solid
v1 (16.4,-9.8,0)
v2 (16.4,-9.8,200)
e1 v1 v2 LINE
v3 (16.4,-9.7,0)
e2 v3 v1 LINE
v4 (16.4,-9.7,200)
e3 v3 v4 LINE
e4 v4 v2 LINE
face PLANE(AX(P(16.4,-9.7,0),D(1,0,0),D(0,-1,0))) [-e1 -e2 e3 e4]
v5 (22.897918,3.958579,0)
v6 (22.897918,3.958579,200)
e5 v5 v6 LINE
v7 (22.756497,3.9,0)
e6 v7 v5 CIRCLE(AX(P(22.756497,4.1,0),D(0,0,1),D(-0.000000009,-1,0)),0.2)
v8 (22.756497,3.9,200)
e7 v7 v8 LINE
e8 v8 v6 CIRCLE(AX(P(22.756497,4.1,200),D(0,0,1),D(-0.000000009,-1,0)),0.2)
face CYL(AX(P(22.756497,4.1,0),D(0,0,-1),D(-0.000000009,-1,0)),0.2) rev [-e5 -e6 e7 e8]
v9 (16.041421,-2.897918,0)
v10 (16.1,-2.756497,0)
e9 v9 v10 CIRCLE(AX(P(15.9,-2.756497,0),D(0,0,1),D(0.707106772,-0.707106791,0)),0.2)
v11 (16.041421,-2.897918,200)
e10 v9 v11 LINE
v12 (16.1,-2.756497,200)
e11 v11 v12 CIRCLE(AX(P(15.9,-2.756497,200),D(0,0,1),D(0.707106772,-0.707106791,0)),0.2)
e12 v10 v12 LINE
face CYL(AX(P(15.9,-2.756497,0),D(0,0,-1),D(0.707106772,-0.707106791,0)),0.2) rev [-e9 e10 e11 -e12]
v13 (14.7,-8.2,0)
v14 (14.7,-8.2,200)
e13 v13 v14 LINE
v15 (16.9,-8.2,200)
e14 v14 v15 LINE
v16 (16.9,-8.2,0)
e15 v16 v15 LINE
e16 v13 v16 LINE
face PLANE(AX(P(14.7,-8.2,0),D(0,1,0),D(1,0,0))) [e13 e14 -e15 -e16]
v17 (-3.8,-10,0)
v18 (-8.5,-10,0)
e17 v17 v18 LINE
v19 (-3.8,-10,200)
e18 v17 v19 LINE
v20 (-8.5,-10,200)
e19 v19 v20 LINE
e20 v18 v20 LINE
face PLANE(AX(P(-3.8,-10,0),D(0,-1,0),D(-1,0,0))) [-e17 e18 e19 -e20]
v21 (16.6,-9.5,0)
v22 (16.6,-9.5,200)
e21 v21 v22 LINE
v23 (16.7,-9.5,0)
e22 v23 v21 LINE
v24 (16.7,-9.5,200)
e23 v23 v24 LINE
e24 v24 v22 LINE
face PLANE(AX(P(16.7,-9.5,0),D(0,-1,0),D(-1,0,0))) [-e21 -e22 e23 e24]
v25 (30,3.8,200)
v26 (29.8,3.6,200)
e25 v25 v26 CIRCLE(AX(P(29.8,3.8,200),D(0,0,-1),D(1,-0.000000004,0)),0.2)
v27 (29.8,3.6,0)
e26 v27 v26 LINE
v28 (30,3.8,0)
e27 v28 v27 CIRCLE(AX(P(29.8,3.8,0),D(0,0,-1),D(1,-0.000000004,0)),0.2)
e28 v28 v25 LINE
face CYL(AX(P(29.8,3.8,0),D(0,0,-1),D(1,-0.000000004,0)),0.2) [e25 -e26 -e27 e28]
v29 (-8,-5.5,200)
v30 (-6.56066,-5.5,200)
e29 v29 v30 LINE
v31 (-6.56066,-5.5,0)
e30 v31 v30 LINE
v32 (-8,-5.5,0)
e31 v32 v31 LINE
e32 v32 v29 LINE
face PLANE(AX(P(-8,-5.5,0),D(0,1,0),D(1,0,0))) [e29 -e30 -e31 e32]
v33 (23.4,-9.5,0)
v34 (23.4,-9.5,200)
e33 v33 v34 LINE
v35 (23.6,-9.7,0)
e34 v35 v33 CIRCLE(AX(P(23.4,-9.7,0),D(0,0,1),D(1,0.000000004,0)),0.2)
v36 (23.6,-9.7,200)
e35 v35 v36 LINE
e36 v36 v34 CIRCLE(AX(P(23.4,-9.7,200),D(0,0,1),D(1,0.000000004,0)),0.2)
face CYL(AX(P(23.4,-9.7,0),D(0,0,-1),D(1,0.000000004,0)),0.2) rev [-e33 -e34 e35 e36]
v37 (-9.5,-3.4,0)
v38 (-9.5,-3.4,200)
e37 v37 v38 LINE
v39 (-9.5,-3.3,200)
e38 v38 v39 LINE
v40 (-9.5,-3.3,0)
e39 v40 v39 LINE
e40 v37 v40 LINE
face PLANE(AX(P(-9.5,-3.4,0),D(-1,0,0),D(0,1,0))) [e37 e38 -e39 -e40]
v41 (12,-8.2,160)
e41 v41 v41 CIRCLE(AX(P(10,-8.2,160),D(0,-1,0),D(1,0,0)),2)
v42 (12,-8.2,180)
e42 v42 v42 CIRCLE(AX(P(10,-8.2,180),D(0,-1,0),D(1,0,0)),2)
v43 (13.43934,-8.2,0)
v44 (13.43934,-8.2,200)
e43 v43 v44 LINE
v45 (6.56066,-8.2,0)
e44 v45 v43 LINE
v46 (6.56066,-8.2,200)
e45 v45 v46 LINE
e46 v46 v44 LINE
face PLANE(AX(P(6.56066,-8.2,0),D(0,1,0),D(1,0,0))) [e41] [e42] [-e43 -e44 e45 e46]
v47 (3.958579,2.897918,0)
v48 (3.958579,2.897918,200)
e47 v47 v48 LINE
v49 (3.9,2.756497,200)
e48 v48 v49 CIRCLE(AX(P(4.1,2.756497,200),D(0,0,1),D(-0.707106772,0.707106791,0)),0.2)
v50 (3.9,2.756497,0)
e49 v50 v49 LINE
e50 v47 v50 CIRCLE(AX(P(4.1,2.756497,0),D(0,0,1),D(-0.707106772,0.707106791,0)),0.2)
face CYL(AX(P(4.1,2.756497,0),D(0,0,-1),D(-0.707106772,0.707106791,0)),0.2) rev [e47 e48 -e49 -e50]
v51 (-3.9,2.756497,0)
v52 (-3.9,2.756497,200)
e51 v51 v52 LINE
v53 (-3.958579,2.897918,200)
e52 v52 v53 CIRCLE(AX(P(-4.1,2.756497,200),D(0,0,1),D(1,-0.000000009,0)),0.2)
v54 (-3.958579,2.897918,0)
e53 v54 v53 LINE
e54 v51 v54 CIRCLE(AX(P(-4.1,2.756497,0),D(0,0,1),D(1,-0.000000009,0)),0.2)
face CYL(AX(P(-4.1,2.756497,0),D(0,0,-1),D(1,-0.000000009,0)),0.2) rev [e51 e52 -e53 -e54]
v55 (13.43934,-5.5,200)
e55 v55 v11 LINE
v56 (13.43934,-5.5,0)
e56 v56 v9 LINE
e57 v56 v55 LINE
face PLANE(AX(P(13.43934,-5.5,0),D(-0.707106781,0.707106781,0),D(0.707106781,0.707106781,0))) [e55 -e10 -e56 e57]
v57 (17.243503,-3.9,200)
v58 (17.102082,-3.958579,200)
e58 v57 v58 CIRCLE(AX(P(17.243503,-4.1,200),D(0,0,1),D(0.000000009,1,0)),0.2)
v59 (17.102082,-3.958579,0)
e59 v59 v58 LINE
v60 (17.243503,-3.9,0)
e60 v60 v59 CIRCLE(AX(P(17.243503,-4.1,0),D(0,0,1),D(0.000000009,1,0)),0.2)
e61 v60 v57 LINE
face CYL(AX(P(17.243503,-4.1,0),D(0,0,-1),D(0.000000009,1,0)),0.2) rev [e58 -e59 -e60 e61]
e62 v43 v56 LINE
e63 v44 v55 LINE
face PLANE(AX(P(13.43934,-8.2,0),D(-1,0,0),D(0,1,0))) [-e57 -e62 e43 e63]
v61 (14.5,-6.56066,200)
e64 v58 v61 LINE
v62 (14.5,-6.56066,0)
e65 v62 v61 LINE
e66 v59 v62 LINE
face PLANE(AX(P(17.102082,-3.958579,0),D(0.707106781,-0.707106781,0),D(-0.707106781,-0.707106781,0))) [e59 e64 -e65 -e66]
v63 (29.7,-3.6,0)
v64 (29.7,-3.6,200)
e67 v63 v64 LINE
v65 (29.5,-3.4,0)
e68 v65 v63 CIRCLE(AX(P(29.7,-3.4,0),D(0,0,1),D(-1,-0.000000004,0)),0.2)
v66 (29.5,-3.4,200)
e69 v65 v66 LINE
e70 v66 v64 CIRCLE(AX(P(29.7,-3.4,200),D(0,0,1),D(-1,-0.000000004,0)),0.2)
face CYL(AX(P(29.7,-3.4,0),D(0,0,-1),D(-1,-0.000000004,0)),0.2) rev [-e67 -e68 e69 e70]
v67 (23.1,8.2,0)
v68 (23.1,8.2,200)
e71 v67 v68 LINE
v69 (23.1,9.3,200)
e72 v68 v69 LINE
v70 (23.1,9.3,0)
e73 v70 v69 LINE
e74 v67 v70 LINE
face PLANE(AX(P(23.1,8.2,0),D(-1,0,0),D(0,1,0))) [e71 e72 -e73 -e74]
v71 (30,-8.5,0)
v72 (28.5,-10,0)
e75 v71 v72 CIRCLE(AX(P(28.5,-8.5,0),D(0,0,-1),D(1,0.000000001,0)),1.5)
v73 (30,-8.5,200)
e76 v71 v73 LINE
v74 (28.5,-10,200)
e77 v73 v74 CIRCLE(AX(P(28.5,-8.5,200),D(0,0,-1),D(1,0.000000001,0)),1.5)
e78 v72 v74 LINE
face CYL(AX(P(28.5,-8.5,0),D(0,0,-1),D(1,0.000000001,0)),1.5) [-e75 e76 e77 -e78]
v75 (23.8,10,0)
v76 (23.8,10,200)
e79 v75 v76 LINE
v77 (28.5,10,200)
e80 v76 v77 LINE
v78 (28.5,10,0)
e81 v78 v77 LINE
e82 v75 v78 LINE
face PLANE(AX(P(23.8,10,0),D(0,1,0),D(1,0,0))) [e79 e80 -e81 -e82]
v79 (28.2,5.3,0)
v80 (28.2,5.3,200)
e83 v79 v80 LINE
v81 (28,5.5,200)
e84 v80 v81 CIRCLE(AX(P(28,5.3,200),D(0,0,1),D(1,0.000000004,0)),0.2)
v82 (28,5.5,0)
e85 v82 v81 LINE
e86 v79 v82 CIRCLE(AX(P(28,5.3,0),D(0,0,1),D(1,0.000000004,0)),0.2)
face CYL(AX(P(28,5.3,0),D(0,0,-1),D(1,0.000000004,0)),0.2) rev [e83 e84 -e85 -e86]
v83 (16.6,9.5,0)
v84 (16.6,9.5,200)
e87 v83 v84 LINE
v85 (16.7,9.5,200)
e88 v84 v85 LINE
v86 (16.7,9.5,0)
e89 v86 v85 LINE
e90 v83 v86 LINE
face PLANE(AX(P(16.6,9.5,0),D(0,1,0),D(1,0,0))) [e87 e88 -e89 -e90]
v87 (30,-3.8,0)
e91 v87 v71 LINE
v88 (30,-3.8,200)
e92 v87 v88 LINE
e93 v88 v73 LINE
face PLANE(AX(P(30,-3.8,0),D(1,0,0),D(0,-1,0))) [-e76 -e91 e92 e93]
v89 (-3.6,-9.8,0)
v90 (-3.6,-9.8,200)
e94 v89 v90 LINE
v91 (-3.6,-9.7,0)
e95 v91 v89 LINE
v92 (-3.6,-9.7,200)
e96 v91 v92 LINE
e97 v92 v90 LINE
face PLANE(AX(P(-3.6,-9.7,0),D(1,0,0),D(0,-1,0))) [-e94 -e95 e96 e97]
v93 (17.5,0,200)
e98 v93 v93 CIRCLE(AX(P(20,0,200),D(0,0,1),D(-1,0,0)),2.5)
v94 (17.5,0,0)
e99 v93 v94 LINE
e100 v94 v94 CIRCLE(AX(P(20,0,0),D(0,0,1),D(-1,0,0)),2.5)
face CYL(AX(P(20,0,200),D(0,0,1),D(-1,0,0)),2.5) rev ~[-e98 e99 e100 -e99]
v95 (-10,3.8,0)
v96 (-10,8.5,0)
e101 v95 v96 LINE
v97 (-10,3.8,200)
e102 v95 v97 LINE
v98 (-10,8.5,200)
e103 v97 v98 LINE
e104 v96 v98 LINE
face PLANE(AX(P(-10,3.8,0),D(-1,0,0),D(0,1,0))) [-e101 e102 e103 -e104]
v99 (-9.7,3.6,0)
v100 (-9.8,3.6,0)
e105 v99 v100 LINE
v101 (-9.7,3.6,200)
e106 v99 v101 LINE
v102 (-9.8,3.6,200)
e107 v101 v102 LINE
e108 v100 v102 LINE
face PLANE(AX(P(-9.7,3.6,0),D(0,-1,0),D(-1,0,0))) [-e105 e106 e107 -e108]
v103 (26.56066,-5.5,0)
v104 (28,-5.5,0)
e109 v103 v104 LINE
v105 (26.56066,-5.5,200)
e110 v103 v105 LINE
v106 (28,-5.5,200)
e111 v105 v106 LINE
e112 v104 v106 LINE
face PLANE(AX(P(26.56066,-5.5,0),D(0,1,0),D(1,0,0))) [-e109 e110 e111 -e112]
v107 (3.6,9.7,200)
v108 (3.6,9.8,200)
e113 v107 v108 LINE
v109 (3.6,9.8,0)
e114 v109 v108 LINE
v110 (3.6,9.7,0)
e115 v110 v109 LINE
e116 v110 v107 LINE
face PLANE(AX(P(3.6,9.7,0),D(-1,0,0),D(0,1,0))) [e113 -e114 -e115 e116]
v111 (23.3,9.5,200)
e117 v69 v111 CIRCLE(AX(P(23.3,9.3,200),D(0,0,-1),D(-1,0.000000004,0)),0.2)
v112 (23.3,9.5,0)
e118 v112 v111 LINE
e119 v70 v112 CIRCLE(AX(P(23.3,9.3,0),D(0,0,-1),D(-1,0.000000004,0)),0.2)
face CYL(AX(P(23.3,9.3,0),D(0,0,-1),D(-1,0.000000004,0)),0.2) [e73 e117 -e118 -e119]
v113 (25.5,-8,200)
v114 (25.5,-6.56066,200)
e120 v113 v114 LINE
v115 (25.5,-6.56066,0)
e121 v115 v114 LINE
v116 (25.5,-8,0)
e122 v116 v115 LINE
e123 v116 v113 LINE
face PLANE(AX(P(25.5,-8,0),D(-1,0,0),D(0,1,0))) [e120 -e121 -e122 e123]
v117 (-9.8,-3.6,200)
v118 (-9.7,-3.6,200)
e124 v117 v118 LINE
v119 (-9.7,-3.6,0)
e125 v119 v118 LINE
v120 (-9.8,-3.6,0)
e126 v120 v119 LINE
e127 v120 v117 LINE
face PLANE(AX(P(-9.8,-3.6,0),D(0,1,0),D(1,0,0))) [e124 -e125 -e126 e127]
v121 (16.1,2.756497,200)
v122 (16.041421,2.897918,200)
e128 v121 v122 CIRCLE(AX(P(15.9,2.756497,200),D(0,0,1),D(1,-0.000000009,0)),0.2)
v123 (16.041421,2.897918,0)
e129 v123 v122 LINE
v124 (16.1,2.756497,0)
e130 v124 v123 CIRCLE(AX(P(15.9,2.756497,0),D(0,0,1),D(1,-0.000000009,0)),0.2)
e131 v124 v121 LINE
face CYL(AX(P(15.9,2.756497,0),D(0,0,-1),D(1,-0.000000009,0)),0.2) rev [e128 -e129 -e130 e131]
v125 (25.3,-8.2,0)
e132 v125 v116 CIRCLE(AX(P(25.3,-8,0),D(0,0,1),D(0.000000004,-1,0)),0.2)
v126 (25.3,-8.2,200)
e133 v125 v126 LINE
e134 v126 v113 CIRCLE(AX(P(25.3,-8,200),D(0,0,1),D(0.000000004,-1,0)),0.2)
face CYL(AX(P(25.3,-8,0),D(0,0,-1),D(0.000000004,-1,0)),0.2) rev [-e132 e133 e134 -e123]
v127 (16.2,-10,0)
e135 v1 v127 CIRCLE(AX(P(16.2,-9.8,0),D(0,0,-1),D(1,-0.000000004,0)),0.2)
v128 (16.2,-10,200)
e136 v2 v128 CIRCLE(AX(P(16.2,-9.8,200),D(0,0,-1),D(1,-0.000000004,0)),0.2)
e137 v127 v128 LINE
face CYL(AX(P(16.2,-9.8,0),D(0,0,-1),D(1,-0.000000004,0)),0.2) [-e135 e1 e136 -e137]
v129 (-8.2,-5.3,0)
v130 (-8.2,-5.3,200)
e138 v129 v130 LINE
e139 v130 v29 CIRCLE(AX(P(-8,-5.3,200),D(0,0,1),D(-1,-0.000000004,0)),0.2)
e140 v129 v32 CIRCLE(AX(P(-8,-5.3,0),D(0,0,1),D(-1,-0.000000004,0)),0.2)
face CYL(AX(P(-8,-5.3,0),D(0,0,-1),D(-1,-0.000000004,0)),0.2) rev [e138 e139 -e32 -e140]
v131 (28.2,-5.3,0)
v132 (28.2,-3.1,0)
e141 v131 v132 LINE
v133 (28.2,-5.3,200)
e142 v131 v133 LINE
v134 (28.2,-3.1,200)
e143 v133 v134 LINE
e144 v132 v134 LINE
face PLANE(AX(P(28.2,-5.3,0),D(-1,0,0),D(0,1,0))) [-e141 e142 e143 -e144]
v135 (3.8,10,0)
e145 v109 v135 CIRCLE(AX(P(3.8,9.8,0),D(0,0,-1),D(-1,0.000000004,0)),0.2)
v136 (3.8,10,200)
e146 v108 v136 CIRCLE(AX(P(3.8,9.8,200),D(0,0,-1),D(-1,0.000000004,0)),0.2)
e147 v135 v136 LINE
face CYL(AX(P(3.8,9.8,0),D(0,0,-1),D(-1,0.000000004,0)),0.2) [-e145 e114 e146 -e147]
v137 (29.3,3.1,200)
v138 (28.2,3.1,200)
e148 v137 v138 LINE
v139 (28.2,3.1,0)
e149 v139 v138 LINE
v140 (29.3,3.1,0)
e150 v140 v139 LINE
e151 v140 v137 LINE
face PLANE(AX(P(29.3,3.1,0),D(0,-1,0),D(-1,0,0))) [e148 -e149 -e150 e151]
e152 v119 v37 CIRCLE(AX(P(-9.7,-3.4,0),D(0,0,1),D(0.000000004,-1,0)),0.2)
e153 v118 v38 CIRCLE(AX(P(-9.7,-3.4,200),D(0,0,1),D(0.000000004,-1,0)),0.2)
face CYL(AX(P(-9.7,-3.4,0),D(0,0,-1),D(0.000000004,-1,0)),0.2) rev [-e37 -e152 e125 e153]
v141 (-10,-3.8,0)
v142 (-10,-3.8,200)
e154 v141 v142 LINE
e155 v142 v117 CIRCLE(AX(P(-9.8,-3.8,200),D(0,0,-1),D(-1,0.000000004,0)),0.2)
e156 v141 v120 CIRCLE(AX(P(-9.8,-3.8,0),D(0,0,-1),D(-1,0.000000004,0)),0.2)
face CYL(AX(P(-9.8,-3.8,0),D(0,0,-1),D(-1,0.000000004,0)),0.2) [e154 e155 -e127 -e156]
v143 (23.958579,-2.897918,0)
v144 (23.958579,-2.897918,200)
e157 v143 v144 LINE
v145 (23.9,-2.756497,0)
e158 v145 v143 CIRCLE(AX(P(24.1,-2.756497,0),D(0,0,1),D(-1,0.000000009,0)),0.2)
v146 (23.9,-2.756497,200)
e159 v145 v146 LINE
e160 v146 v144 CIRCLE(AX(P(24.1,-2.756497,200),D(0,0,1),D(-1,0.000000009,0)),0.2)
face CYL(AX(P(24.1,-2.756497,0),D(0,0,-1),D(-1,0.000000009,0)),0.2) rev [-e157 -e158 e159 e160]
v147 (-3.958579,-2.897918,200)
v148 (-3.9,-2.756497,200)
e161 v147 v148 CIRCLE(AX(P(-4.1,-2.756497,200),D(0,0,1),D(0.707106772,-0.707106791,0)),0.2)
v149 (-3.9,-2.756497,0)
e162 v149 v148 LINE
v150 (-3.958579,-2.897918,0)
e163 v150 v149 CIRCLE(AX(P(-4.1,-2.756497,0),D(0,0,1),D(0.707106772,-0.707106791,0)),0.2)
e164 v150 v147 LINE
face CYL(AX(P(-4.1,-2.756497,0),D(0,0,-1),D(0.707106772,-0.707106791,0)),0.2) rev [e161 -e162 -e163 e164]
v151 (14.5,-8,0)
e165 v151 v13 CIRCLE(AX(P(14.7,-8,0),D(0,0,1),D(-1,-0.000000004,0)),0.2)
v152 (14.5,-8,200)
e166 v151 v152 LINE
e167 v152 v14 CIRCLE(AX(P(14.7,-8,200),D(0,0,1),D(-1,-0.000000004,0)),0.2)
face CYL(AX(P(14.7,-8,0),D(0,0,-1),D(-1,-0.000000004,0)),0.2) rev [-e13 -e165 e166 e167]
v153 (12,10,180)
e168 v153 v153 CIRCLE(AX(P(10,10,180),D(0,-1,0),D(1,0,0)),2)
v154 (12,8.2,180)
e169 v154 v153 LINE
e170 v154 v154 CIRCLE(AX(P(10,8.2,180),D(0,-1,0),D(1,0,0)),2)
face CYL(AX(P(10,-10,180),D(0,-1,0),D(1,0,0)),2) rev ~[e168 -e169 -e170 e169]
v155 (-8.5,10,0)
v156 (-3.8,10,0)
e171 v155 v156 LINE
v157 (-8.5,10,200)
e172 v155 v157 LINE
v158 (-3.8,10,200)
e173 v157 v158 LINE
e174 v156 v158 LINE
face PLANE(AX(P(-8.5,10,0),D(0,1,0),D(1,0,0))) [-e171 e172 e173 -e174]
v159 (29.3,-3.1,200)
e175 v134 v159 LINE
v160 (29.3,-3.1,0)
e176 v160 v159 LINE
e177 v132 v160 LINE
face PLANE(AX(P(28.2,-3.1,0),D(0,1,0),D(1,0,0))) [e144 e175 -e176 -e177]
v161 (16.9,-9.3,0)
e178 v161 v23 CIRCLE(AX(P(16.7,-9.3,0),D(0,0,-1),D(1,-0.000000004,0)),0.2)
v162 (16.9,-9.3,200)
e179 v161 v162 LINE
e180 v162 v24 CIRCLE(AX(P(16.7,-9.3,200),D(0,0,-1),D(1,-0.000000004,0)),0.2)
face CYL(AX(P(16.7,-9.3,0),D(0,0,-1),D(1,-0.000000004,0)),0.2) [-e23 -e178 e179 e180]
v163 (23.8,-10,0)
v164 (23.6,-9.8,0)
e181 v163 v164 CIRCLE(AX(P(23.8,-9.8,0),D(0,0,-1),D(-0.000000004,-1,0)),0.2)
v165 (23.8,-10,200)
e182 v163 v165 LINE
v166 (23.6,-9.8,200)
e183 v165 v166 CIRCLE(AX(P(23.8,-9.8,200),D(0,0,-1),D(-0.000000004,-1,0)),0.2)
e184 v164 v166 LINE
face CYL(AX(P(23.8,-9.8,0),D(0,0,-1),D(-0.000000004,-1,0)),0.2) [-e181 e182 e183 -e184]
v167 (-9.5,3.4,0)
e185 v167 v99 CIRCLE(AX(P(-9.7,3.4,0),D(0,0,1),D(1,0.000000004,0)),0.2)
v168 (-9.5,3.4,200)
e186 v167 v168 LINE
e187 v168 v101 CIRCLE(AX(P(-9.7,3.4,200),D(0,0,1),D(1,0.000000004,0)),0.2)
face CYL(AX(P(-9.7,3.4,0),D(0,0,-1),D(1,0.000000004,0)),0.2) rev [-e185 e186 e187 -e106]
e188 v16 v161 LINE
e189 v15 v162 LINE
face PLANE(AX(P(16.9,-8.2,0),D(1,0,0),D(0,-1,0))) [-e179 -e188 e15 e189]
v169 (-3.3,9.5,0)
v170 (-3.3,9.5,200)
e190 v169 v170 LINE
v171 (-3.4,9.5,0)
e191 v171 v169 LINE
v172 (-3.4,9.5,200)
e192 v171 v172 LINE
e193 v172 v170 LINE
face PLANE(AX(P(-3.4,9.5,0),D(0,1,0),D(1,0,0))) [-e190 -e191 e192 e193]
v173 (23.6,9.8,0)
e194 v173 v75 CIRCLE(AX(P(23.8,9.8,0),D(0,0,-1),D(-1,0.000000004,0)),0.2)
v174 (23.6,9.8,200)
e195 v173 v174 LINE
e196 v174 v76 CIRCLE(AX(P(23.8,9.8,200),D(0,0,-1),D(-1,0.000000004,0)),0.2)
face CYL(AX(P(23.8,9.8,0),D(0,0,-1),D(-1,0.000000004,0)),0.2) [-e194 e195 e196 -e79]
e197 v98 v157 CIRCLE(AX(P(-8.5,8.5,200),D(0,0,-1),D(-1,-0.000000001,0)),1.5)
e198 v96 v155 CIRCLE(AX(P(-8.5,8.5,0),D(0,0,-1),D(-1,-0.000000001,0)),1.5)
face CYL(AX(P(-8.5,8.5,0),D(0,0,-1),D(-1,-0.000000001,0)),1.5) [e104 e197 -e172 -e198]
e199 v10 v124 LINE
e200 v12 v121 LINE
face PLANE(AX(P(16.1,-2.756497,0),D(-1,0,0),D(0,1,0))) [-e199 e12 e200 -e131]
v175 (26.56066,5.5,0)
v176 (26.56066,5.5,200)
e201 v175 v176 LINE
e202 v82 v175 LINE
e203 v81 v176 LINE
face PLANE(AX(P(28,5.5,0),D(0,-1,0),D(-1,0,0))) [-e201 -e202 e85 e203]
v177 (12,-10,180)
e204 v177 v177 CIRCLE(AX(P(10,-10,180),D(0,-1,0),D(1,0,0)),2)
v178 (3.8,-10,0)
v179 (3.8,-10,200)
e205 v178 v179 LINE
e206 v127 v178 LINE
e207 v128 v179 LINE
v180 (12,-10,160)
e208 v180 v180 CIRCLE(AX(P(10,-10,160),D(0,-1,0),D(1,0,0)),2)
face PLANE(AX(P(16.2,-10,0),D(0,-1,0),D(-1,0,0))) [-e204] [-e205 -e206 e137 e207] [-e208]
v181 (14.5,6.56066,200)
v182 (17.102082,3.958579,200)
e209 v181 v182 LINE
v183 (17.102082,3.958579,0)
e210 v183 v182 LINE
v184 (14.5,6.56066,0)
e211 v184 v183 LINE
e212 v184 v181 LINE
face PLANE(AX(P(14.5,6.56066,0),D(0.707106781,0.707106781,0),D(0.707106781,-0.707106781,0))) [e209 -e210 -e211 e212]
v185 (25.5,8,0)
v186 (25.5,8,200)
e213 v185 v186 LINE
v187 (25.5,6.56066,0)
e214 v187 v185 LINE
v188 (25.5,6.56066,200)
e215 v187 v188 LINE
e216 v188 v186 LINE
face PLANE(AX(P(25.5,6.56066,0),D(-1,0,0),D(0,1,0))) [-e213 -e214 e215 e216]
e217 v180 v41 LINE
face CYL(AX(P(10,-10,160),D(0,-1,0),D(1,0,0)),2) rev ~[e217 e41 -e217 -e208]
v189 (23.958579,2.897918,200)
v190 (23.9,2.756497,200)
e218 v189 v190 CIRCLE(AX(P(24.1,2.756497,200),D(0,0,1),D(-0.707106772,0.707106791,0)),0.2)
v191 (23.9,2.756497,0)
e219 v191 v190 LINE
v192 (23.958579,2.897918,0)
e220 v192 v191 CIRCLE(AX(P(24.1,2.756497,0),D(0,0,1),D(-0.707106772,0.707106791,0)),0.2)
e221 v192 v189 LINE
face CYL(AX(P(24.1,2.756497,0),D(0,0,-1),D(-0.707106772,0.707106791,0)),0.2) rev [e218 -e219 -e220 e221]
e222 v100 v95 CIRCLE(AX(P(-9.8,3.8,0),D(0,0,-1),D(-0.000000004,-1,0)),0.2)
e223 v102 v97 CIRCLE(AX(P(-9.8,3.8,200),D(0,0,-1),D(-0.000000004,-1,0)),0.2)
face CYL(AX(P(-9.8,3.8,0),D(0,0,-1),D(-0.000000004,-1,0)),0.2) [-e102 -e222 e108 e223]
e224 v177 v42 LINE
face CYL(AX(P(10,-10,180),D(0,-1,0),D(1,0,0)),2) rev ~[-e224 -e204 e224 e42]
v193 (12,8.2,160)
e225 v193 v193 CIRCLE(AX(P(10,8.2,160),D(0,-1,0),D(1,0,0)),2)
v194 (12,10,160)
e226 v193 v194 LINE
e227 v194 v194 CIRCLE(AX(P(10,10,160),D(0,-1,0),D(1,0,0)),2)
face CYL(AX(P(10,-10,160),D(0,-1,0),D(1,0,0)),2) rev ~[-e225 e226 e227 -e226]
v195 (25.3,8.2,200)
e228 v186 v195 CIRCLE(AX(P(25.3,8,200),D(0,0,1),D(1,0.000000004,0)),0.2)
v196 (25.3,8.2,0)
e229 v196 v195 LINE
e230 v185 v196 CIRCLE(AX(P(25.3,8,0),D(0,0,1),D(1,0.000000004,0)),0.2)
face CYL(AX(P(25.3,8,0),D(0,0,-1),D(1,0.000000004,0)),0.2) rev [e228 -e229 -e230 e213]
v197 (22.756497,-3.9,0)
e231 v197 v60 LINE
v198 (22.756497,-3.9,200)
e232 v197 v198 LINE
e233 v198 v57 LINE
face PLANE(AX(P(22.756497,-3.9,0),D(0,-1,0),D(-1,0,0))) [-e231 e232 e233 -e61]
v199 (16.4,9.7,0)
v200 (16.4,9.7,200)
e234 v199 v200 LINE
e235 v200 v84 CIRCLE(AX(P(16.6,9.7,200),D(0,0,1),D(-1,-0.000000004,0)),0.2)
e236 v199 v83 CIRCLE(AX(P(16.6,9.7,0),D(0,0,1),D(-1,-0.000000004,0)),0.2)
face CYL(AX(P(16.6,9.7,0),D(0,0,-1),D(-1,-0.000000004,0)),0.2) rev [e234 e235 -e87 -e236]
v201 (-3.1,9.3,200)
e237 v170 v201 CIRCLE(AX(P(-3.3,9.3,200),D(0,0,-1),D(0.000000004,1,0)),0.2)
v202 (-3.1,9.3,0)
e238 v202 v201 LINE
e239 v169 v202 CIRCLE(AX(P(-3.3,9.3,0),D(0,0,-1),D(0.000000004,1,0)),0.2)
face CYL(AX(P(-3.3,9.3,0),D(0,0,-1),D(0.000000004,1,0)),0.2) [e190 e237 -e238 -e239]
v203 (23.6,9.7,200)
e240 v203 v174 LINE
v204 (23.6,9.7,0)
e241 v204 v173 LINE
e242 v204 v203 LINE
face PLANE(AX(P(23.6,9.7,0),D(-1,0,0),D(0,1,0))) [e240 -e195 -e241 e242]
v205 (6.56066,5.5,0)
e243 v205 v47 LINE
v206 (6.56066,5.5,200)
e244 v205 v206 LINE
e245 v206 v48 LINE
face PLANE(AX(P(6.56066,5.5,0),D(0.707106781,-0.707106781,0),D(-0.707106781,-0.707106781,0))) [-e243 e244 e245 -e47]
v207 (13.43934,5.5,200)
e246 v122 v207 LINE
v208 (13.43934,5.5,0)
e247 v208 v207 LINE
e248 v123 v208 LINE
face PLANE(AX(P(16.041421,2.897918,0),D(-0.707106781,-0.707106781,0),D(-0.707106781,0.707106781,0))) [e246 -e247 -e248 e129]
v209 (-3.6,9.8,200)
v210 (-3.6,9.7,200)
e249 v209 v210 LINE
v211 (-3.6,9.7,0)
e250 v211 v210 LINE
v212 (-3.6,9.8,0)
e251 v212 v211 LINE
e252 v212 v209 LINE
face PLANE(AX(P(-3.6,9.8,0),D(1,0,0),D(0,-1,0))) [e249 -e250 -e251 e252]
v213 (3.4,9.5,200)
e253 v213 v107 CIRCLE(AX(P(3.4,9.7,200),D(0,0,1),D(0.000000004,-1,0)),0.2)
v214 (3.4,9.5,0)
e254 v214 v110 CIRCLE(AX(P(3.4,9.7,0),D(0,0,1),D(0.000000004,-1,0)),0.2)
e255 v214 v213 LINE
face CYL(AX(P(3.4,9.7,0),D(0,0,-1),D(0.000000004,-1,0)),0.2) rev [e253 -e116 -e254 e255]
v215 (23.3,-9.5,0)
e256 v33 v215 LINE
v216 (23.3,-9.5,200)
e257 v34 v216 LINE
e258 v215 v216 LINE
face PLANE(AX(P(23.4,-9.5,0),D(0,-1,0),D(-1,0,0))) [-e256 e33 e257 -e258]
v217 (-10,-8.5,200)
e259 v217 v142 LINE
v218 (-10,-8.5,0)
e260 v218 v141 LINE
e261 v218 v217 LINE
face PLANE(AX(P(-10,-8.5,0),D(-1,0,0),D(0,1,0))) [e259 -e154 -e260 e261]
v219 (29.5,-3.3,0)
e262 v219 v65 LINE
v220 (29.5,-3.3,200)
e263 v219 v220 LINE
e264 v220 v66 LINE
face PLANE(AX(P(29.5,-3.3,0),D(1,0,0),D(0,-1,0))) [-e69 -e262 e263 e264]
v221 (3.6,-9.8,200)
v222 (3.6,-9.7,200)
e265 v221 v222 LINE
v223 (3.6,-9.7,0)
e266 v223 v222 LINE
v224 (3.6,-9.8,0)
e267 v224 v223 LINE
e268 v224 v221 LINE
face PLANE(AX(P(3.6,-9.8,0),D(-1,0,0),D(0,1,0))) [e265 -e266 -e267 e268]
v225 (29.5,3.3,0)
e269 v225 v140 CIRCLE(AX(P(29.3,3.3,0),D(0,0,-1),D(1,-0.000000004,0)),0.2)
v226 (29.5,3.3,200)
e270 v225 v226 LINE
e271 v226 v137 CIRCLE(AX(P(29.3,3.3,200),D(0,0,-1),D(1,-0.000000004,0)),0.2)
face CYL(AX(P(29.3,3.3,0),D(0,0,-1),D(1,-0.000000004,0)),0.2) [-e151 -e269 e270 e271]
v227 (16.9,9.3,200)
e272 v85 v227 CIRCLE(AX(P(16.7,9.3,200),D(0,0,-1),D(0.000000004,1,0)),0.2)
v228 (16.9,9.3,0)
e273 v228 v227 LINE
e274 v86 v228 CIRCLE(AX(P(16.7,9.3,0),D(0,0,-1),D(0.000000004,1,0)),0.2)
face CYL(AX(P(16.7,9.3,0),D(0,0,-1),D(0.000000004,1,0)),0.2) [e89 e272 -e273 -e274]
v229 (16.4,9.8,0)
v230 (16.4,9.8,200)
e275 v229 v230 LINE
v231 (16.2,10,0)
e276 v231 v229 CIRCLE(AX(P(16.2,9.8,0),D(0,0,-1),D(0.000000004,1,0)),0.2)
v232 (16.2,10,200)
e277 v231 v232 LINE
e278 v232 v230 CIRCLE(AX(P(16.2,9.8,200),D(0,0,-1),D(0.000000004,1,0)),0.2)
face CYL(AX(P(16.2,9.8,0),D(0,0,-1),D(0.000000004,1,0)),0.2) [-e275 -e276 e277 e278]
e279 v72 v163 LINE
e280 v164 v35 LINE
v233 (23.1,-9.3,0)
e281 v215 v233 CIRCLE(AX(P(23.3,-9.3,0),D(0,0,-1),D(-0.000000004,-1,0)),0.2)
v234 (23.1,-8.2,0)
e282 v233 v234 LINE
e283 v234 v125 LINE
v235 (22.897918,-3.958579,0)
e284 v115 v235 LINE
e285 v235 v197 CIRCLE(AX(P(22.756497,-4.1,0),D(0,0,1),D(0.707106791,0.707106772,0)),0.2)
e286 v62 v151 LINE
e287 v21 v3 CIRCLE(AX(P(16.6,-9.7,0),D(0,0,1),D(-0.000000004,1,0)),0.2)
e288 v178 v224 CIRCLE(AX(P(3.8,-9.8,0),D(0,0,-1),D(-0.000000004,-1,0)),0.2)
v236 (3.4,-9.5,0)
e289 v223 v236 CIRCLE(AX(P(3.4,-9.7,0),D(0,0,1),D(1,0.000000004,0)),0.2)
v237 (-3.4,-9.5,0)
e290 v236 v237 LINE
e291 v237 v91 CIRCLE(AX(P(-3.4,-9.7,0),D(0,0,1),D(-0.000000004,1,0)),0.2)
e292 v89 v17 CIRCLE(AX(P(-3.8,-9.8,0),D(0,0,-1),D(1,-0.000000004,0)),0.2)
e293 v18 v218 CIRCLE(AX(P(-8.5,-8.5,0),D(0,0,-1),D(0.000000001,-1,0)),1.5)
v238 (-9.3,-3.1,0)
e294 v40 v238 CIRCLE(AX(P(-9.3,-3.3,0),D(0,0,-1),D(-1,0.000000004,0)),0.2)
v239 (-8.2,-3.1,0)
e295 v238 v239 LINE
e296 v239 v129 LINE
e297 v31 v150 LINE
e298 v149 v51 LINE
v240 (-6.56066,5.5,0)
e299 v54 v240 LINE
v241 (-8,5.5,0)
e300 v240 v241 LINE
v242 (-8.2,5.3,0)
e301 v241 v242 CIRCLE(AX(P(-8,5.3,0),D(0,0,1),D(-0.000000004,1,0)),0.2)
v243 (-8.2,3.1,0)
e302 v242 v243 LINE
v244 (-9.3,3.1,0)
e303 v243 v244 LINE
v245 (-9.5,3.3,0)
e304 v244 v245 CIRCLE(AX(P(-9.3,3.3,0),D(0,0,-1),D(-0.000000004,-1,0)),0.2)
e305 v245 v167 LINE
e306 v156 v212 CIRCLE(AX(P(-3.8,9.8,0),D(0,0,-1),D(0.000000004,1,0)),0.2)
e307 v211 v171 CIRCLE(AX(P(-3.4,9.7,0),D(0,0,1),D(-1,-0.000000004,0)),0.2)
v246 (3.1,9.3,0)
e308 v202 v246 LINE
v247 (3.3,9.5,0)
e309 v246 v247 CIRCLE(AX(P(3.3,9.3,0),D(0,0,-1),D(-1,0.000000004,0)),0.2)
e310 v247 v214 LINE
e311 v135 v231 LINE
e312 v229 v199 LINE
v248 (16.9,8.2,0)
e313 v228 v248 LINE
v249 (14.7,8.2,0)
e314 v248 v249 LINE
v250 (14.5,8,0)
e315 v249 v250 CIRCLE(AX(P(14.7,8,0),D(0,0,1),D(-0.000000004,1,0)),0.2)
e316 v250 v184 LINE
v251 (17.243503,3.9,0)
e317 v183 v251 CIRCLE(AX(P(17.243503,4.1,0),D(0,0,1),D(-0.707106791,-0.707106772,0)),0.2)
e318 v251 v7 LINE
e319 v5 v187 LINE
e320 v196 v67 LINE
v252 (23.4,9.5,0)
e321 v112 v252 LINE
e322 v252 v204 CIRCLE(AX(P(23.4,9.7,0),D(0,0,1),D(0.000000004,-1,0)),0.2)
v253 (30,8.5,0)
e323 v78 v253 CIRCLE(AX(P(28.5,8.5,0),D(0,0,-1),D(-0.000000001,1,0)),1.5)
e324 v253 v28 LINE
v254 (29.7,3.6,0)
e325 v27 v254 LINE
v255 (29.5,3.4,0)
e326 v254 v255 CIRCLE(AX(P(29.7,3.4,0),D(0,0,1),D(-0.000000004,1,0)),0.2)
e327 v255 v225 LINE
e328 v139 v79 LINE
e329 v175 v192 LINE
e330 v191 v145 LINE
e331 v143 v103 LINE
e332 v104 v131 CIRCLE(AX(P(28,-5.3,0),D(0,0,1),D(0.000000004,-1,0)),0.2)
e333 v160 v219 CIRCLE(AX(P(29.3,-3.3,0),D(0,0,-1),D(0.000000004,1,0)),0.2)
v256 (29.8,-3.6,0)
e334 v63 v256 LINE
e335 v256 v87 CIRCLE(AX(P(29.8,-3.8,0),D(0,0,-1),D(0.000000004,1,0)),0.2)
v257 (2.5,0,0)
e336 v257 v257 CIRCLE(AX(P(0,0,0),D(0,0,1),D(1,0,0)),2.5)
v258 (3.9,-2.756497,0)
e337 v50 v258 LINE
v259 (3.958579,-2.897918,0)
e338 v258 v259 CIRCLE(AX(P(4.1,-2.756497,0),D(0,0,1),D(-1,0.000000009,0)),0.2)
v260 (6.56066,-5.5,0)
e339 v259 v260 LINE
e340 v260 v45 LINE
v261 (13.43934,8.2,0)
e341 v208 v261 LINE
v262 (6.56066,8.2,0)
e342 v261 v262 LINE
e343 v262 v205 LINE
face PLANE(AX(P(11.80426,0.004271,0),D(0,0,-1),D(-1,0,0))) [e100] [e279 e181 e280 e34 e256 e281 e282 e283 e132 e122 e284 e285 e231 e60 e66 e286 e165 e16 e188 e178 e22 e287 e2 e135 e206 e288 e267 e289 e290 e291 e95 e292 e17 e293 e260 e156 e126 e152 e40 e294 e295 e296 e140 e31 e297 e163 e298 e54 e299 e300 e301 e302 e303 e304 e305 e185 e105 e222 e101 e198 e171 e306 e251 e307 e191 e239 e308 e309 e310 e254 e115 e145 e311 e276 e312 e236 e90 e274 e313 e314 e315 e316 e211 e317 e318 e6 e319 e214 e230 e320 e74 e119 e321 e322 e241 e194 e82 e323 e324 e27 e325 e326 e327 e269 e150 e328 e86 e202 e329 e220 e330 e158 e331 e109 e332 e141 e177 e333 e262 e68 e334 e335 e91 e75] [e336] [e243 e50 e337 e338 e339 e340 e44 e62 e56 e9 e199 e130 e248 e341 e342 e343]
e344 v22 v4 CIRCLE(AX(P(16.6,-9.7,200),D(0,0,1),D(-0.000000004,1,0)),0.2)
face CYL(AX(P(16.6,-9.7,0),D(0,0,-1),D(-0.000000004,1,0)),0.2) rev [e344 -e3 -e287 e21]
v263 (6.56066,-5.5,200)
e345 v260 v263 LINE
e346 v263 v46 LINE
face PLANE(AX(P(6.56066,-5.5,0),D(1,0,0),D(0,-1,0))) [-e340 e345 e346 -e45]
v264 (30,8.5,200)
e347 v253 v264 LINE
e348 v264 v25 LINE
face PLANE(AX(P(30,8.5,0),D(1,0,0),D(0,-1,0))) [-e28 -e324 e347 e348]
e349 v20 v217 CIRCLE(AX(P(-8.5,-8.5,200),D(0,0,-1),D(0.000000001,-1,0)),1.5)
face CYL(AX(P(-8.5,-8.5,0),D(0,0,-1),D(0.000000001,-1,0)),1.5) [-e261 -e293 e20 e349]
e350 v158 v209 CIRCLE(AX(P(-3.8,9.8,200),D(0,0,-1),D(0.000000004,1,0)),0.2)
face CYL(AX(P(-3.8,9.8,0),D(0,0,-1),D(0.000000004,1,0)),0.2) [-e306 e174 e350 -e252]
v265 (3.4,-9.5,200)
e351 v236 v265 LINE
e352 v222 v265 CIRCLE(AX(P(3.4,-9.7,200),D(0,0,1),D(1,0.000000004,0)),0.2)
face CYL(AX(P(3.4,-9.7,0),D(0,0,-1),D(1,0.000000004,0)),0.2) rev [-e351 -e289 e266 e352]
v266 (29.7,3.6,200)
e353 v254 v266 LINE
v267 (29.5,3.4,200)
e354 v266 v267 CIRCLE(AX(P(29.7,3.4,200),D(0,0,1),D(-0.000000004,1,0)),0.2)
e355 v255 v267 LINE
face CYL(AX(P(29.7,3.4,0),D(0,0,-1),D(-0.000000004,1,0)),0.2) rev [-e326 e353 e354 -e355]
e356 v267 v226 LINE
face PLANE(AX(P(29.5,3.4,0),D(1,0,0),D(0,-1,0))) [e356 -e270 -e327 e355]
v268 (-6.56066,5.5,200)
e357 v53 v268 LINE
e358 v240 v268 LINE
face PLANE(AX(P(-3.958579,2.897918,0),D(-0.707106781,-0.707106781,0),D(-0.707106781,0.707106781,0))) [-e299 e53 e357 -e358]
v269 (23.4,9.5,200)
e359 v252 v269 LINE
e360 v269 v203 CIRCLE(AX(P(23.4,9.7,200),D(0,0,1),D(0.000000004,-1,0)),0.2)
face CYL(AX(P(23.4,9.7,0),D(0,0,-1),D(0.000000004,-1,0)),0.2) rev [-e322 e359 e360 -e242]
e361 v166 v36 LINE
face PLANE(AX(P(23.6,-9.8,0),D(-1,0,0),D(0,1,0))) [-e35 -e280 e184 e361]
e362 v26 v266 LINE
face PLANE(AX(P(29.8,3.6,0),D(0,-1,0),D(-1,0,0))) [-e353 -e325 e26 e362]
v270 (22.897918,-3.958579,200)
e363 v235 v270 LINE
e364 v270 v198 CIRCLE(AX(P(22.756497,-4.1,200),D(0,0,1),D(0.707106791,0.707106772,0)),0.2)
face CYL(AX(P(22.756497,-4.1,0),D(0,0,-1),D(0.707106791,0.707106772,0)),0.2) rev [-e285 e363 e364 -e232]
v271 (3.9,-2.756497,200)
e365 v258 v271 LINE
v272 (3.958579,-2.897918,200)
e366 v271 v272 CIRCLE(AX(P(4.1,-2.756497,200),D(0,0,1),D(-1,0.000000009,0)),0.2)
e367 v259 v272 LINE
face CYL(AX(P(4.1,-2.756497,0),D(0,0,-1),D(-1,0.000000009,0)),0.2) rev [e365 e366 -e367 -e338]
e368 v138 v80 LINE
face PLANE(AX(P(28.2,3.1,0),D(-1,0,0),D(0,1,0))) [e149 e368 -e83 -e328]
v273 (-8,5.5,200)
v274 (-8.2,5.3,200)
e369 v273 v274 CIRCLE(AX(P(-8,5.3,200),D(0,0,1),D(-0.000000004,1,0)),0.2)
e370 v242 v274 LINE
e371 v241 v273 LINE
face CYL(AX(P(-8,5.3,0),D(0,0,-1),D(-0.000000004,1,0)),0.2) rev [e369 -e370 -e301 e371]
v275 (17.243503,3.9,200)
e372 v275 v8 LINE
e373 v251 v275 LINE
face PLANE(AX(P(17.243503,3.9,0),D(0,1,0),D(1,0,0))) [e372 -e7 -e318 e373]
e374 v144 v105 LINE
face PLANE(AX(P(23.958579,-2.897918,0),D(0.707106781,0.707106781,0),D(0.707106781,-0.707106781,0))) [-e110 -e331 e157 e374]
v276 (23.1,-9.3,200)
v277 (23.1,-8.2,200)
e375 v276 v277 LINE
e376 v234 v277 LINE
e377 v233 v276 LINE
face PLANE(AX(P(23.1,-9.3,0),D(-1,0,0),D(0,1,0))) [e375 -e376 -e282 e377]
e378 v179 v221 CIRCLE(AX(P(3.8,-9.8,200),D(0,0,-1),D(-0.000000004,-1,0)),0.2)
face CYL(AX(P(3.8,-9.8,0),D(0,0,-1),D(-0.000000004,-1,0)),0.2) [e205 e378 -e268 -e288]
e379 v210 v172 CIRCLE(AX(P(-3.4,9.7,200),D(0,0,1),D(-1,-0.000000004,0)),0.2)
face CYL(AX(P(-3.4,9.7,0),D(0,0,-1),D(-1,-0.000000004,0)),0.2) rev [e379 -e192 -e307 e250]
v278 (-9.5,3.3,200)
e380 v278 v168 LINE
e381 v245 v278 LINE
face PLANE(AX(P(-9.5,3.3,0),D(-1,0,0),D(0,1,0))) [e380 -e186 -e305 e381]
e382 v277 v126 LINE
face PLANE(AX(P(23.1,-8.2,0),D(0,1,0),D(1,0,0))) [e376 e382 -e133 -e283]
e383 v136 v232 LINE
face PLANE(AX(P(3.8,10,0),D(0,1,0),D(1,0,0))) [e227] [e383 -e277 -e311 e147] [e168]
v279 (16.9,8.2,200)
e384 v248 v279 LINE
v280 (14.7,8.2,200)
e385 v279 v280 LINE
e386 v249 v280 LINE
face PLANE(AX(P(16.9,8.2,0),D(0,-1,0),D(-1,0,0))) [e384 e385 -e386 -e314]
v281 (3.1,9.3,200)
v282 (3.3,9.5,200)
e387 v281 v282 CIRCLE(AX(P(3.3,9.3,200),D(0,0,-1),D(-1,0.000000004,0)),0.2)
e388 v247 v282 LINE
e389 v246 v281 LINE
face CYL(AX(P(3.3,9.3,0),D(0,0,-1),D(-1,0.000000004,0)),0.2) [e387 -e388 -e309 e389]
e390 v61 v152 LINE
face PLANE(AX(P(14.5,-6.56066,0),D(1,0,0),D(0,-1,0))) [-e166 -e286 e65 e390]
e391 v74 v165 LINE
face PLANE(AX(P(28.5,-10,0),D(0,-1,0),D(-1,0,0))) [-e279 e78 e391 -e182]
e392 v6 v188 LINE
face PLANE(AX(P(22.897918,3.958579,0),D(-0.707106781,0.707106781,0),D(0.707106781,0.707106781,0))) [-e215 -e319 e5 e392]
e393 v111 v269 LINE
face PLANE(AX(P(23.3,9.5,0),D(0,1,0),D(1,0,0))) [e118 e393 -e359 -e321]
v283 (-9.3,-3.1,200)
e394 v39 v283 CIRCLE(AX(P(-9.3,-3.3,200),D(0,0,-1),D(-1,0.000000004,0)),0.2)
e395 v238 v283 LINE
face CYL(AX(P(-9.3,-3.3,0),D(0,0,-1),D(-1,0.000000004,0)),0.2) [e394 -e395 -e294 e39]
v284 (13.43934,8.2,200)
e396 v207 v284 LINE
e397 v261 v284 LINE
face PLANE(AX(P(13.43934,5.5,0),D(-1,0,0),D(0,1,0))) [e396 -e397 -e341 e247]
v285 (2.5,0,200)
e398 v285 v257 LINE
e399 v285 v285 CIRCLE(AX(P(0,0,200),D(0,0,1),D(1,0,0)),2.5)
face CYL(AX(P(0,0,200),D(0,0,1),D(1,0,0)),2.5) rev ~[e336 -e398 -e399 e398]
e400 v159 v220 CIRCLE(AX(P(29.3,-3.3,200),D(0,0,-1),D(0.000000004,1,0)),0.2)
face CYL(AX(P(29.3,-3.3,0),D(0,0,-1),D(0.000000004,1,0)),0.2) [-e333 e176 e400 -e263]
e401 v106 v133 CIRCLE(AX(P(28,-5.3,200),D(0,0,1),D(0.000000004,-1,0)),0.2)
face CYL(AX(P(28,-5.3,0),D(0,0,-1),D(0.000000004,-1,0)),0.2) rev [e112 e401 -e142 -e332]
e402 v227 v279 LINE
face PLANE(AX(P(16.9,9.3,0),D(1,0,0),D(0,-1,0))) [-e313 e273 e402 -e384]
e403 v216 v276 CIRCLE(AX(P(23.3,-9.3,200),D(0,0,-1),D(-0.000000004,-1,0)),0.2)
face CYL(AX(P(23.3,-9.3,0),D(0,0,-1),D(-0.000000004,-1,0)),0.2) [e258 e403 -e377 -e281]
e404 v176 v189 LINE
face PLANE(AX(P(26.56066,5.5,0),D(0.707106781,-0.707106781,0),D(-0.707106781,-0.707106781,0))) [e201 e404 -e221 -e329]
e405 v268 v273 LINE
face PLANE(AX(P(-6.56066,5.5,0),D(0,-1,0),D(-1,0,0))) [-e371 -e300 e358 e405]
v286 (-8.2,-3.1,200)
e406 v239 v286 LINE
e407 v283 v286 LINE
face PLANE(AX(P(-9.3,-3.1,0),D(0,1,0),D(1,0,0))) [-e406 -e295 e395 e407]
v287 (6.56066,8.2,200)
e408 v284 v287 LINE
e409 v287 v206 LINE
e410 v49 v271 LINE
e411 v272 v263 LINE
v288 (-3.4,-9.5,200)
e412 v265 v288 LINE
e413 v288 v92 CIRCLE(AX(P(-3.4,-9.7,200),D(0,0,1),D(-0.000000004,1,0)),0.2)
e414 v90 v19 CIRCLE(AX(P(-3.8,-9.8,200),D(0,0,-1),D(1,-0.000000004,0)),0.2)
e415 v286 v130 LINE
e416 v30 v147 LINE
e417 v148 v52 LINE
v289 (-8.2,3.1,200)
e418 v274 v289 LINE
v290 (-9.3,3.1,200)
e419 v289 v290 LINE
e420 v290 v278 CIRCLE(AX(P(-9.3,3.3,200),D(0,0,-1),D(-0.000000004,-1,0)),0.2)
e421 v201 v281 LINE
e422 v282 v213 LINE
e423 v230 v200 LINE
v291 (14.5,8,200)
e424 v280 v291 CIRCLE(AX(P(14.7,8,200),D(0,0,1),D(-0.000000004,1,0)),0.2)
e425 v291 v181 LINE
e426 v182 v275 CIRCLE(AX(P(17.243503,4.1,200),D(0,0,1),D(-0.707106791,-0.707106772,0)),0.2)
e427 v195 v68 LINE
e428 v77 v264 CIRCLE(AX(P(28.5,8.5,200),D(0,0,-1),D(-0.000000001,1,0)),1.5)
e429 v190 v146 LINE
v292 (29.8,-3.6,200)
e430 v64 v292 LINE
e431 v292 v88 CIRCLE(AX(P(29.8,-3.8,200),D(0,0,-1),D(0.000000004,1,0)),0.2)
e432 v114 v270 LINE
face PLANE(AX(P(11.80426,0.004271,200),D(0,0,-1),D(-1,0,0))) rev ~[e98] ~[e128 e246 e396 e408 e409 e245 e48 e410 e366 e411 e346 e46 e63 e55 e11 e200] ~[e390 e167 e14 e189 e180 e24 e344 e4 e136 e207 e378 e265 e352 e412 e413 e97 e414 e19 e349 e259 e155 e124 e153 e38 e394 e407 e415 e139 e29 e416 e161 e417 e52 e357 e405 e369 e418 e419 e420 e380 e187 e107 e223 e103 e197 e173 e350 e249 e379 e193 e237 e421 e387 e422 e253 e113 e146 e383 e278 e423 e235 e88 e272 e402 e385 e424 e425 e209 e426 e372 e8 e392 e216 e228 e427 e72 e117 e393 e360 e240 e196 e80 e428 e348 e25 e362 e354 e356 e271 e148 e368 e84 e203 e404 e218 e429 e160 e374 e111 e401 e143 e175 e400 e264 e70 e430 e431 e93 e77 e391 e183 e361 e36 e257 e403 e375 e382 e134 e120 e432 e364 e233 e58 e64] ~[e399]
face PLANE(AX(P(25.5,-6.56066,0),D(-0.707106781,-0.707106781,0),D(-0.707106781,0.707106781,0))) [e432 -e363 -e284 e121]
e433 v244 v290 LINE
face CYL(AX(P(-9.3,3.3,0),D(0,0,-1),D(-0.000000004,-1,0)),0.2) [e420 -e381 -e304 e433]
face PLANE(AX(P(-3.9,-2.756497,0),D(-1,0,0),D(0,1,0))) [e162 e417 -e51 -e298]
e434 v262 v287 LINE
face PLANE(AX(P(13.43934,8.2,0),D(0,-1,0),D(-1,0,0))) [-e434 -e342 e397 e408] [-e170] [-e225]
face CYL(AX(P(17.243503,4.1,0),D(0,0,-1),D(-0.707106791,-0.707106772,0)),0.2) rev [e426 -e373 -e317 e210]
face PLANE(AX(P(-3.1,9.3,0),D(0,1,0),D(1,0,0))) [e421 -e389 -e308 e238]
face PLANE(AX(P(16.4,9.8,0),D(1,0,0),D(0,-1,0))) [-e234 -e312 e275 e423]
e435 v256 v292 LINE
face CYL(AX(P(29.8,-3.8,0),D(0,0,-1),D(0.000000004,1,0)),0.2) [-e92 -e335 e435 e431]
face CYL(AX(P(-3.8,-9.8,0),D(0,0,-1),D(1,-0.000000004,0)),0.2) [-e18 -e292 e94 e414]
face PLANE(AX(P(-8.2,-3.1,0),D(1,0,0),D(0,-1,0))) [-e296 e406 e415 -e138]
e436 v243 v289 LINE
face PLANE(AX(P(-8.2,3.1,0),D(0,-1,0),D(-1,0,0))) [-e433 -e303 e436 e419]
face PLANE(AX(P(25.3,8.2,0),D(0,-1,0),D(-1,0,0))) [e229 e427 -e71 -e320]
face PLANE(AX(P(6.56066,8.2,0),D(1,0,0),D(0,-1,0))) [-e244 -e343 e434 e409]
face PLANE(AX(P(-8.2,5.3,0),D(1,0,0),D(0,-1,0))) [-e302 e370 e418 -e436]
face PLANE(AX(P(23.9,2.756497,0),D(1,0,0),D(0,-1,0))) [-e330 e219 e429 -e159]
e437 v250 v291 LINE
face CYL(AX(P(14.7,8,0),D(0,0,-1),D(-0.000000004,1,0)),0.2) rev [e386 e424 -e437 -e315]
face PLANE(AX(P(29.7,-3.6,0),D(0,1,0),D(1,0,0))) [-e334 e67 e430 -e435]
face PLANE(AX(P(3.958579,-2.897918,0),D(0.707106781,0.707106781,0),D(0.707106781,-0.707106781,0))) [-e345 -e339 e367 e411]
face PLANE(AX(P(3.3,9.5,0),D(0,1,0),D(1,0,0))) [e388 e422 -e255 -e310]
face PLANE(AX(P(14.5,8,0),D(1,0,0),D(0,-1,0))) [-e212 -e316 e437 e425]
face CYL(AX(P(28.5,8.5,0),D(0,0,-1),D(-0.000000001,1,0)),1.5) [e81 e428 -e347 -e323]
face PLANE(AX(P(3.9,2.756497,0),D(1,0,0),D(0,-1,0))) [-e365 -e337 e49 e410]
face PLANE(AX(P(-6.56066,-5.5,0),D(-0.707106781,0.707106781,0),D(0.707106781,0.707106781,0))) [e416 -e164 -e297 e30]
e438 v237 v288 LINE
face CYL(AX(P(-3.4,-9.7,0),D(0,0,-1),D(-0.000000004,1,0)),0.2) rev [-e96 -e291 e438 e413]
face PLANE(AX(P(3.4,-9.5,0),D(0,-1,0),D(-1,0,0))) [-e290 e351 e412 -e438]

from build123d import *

# Parameters (mm, degrees)
BOSS_EXTRUDE1_DEPTH = 200
SKETCH2_R           = 2.5
CUT_EXTRUDE1_DEPTH  = 203.484567313
SKETCH3_R           = 2
CUT_EXTRUDE2_DEPTH  = 40


with BuildPart() as part:
    # Sketch1 → Boss-Extrude1 (new body)
    with BuildSketch(Plane.XY):
        with BuildLine():
            Line((-8.5, 10), (-3.8, 10))
            ThreePointArc((-3.8, 10), (-3.658578644, 9.941421356), (-3.6, 9.8))
            Line((-3.6, 9.8), (-3.6, 9.7))
            ThreePointArc((-3.6, 9.7), (-3.541421356, 9.558578644), (-3.4, 9.5))
            Line((-3.4, 9.5), (-3.3, 9.5))
            ThreePointArc((-3.3, 9.5), (-3.158578644, 9.441421356), (-3.1, 9.3))
            Line((-3.1, 9.3), (3.1, 9.3))
            ThreePointArc((3.1, 9.3), (3.158578644, 9.441421356), (3.3, 9.5))
            Line((3.3, 9.5), (3.4, 9.5))
            ThreePointArc((3.4, 9.5), (3.541421356, 9.558578644), (3.6, 9.7))
            Line((3.6, 9.7), (3.6, 9.8))
            ThreePointArc((3.6, 9.8), (3.658578644, 9.941421356), (3.8, 10))
            Line((3.8, 10), (8.5, 10))
            Line((8.5, 10), (11.5, 10))
            Line((11.5, 10), (16.2, 10))
            ThreePointArc((16.2, 10), (16.341421356, 9.941421356), (16.4, 9.8))
            Line((16.4, 9.8), (16.4, 9.7))
            ThreePointArc((16.4, 9.7), (16.458578644, 9.558578644), (16.6, 9.5))
            Line((16.6, 9.5), (16.7, 9.5))
            ThreePointArc((16.7, 9.5), (16.841421356, 9.441421356), (16.9, 9.3))
            Line((16.9, 9.3), (16.9, 8.2))
            Line((16.9, 8.2), (14.7, 8.2))
            ThreePointArc((14.7, 8.2), (14.558578644, 8.141421356), (14.5, 8))
            Line((14.5, 8), (14.5, 6.560660172))
            Line((14.5, 6.560660172), (17.102081528, 3.958578644))
            ThreePointArc((17.102081528, 3.958578644), (17.166966198, 3.915224093), (17.243502884, 3.9))
            Line((17.243502884, 3.9), (22.756497116, 3.9))
            ThreePointArc((22.756497116, 3.9), (22.833033802, 3.915224093), (22.897918472, 3.958578644))
            Line((22.897918472, 3.958578644), (25.5, 6.560660172))
            Line((25.5, 6.560660172), (25.5, 8))
            ThreePointArc((25.5, 8), (25.441421356, 8.141421356), (25.3, 8.2))
            Line((25.3, 8.2), (23.1, 8.2))
            Line((23.1, 8.2), (23.1, 9.3))
            ThreePointArc((23.1, 9.3), (23.158578644, 9.441421356), (23.3, 9.5))
            Line((23.3, 9.5), (23.4, 9.5))
            ThreePointArc((23.4, 9.5), (23.541421356, 9.558578644), (23.6, 9.7))
            Line((23.6, 9.7), (23.6, 9.8))
            ThreePointArc((23.6, 9.8), (23.658578644, 9.941421356), (23.8, 10))
            Line((23.8, 10), (28.5, 10))
            ThreePointArc((28.5, 10), (29.560660172, 9.560660172), (30, 8.5))
            Line((30, 8.5), (30, 3.8))
            ThreePointArc((30, 3.8), (29.941421356, 3.658578644), (29.8, 3.6))
            Line((29.8, 3.6), (29.7, 3.6))
            ThreePointArc((29.7, 3.6), (29.558578644, 3.541421356), (29.5, 3.4))
            Line((29.5, 3.4), (29.5, 3.3))
            ThreePointArc((29.5, 3.3), (29.441421356, 3.158578644), (29.3, 3.1))
            Line((29.3, 3.1), (28.2, 3.1))
            Line((28.2, 3.1), (28.2, 5.3))
            ThreePointArc((28.2, 5.3), (28.141421356, 5.441421356), (28, 5.5))
            Line((28, 5.5), (26.560660172, 5.5))
            Line((26.560660172, 5.5), (23.958578644, 2.897918472))
            ThreePointArc((23.958578644, 2.897918472), (23.915224093, 2.833033802), (23.9, 2.756497116))
            Line((23.9, 2.756497116), (23.9, -2.756497116))
            ThreePointArc((23.9, -2.756497116), (23.915224093, -2.833033802), (23.958578644, -2.897918472))
            Line((23.958578644, -2.897918472), (26.560660172, -5.5))
            Line((26.560660172, -5.5), (28, -5.5))
            ThreePointArc((28, -5.5), (28.141421356, -5.441421356), (28.2, -5.3))
            Line((28.2, -5.3), (28.2, -3.1))
            Line((28.2, -3.1), (29.3, -3.1))
            ThreePointArc((29.3, -3.1), (29.441421356, -3.158578644), (29.5, -3.3))
            Line((29.5, -3.3), (29.5, -3.4))
            ThreePointArc((29.5, -3.4), (29.558578644, -3.541421356), (29.7, -3.6))
            Line((29.7, -3.6), (29.8, -3.6))
            ThreePointArc((29.8, -3.6), (29.941421356, -3.658578644), (30, -3.8))
            Line((30, -3.8), (30, -8.5))
            ThreePointArc((30, -8.5), (29.560660172, -9.560660172), (28.5, -10))
            Line((28.5, -10), (23.8, -10))
            ThreePointArc((23.8, -10), (23.658578644, -9.941421356), (23.6, -9.8))
            Line((23.6, -9.8), (23.6, -9.7))
            ThreePointArc((23.6, -9.7), (23.541421356, -9.558578644), (23.4, -9.5))
            Line((23.4, -9.5), (23.3, -9.5))
            ThreePointArc((23.3, -9.5), (23.158578644, -9.441421356), (23.1, -9.3))
            Line((23.1, -9.3), (23.1, -8.2))
            Line((23.1, -8.2), (25.3, -8.2))
            ThreePointArc((25.3, -8.2), (25.441421356, -8.141421356), (25.5, -8))
            Line((25.5, -8), (25.5, -6.560660172))
            Line((25.5, -6.560660172), (22.897918472, -3.958578644))
            ThreePointArc((22.897918472, -3.958578644), (22.833033802, -3.915224093), (22.756497116, -3.9))
            Line((22.756497116, -3.9), (17.243502884, -3.9))
            ThreePointArc((17.243502884, -3.9), (17.166966198, -3.915224093), (17.102081528, -3.958578644))
            Line((17.102081528, -3.958578644), (14.5, -6.560660172))
            Line((14.5, -6.560660172), (14.5, -8))
            ThreePointArc((14.5, -8), (14.558578644, -8.141421356), (14.7, -8.2))
            Line((14.7, -8.2), (16.9, -8.2))
            Line((16.9, -8.2), (16.9, -9.3))
            ThreePointArc((16.9, -9.3), (16.841421356, -9.441421356), (16.7, -9.5))
            Line((16.7, -9.5), (16.6, -9.5))
            ThreePointArc((16.6, -9.5), (16.458578644, -9.558578644), (16.4, -9.7))
            Line((16.4, -9.7), (16.4, -9.8))
            ThreePointArc((16.4, -9.8), (16.341421356, -9.941421356), (16.2, -10))
            Line((16.2, -10), (11.5, -10))
            Line((11.5, -10), (8.5, -10))
            Line((8.5, -10), (3.8, -10))
            ThreePointArc((3.8, -10), (3.658578644, -9.941421356), (3.6, -9.8))
            Line((3.6, -9.8), (3.6, -9.7))
            ThreePointArc((3.6, -9.7), (3.541421356, -9.558578644), (3.4, -9.5))
            Line((3.4, -9.5), (3.3, -9.5))
            Line((3.3, -9.5), (-3.3, -9.5))
            Line((-3.3, -9.5), (-3.4, -9.5))
            ThreePointArc((-3.4, -9.5), (-3.541421356, -9.558578644), (-3.6, -9.7))
            Line((-3.6, -9.7), (-3.6, -9.8))
            ThreePointArc((-3.6, -9.8), (-3.658578644, -9.941421356), (-3.8, -10))
            Line((-3.8, -10), (-8.5, -10))
            ThreePointArc((-8.5, -10), (-9.560660172, -9.560660172), (-10, -8.5))
            Line((-10, -8.5), (-10, -3.8))
            ThreePointArc((-10, -3.8), (-9.941421356, -3.658578644), (-9.8, -3.6))
            Line((-9.8, -3.6), (-9.7, -3.6))
            ThreePointArc((-9.7, -3.6), (-9.558578644, -3.541421356), (-9.5, -3.4))
            Line((-9.5, -3.4), (-9.5, -3.3))
            ThreePointArc((-9.5, -3.3), (-9.441421356, -3.158578644), (-9.3, -3.1))
            Line((-9.3, -3.1), (-8.2, -3.1))
            Line((-8.2, -3.1), (-8.2, -5.3))
            ThreePointArc((-8.2, -5.3), (-8.141421356, -5.441421356), (-8, -5.5))
            Line((-8, -5.5), (-6.560660172, -5.5))
            Line((-6.560660172, -5.5), (-3.958578644, -2.897918472))
            ThreePointArc((-3.958578644, -2.897918472), (-3.915224093, -2.833033802), (-3.9, -2.756497116))
            Line((-3.9, -2.756497116), (-3.9, 2.756497116))
            ThreePointArc((-3.9, 2.756497116), (-3.915224093, 2.833033802), (-3.958578644, 2.897918472))
            Line((-3.958578644, 2.897918472), (-6.560660172, 5.5))
            Line((-6.560660172, 5.5), (-8, 5.5))
            ThreePointArc((-8, 5.5), (-8.141421356, 5.441421356), (-8.2, 5.3))
            Line((-8.2, 5.3), (-8.2, 3.1))
            Line((-8.2, 3.1), (-9.3, 3.1))
            ThreePointArc((-9.3, 3.1), (-9.441421356, 3.158578644), (-9.5, 3.3))
            Line((-9.5, 3.3), (-9.5, 3.4))
            ThreePointArc((-9.5, 3.4), (-9.558578644, 3.541421356), (-9.7, 3.6))
            Line((-9.7, 3.6), (-9.8, 3.6))
            ThreePointArc((-9.8, 3.6), (-9.941421356, 3.658578644), (-10, 3.8))
            Line((-10, 3.8), (-10, 8.5))
            ThreePointArc((-10, 8.5), (-9.560660172, 9.560660172), (-8.5, 10))
        make_face()
        with BuildLine():
            Line((3.9, 2.756497116), (3.9, -2.756497116))
            ThreePointArc((3.9, -2.756497116), (3.915224093, -2.833033802), (3.958578644, -2.897918472))
            Line((3.958578644, -2.897918472), (6.560660172, -5.5))
            Line((6.560660172, -5.5), (6.560660172, -8.2))
            Line((6.560660172, -8.2), (13.439339828, -8.2))
            Line((13.439339828, -8.2), (13.439339828, -5.5))
            Line((13.439339828, -5.5), (16.041421356, -2.897918472))
            ThreePointArc((16.041421356, -2.897918472), (16.084775907, -2.833033802), (16.1, -2.756497116))
            Line((16.1, -2.756497116), (16.1, 2.756497116))
            ThreePointArc((16.1, 2.756497116), (16.084775907, 2.833033802), (16.041421356, 2.897918472))
            Line((16.041421356, 2.897918472), (13.439339828, 5.5))
            Line((13.439339828, 5.5), (13.439339828, 8.2))
            Line((13.439339828, 8.2), (6.560660172, 8.2))
            Line((6.560660172, 8.2), (6.560660172, 5.5))
            Line((6.560660172, 5.5), (3.958578644, 2.897918472))
            ThreePointArc((3.958578644, 2.897918472), (3.915224093, 2.833033802), (3.9, 2.756497116))
        make_face(mode=Mode.SUBTRACT)
    extrude(amount=BOSS_EXTRUDE1_DEPTH)

    # Sketch2 → Cut-Extrude1 (cut, through all)
    with BuildSketch(Plane.XY.offset(200)):
        Circle(SKETCH2_R)
        with Locations(Location((20, 0, 0), (0, 0, 180))):
            Circle(SKETCH2_R)
    extrude(amount=-CUT_EXTRUDE1_DEPTH, mode=Mode.SUBTRACT)

    # Sketch3 → Cut-Extrude2 (cut)
    with BuildSketch(Plane(origin=(0, -10, 0), x_dir=(-1, 0, 0), z_dir=(0, -1, 0))):
        with Locations(Location((-10, -180, 0), (0, 0, 180))):
            Circle(SKETCH3_R)
        with Locations(Location((-10, -160, 0), (0, 0, 180))):
            Circle(SKETCH3_R)
    extrude(amount=-CUT_EXTRUDE2_DEPTH, mode=Mode.SUBTRACT)


solid = part.part
